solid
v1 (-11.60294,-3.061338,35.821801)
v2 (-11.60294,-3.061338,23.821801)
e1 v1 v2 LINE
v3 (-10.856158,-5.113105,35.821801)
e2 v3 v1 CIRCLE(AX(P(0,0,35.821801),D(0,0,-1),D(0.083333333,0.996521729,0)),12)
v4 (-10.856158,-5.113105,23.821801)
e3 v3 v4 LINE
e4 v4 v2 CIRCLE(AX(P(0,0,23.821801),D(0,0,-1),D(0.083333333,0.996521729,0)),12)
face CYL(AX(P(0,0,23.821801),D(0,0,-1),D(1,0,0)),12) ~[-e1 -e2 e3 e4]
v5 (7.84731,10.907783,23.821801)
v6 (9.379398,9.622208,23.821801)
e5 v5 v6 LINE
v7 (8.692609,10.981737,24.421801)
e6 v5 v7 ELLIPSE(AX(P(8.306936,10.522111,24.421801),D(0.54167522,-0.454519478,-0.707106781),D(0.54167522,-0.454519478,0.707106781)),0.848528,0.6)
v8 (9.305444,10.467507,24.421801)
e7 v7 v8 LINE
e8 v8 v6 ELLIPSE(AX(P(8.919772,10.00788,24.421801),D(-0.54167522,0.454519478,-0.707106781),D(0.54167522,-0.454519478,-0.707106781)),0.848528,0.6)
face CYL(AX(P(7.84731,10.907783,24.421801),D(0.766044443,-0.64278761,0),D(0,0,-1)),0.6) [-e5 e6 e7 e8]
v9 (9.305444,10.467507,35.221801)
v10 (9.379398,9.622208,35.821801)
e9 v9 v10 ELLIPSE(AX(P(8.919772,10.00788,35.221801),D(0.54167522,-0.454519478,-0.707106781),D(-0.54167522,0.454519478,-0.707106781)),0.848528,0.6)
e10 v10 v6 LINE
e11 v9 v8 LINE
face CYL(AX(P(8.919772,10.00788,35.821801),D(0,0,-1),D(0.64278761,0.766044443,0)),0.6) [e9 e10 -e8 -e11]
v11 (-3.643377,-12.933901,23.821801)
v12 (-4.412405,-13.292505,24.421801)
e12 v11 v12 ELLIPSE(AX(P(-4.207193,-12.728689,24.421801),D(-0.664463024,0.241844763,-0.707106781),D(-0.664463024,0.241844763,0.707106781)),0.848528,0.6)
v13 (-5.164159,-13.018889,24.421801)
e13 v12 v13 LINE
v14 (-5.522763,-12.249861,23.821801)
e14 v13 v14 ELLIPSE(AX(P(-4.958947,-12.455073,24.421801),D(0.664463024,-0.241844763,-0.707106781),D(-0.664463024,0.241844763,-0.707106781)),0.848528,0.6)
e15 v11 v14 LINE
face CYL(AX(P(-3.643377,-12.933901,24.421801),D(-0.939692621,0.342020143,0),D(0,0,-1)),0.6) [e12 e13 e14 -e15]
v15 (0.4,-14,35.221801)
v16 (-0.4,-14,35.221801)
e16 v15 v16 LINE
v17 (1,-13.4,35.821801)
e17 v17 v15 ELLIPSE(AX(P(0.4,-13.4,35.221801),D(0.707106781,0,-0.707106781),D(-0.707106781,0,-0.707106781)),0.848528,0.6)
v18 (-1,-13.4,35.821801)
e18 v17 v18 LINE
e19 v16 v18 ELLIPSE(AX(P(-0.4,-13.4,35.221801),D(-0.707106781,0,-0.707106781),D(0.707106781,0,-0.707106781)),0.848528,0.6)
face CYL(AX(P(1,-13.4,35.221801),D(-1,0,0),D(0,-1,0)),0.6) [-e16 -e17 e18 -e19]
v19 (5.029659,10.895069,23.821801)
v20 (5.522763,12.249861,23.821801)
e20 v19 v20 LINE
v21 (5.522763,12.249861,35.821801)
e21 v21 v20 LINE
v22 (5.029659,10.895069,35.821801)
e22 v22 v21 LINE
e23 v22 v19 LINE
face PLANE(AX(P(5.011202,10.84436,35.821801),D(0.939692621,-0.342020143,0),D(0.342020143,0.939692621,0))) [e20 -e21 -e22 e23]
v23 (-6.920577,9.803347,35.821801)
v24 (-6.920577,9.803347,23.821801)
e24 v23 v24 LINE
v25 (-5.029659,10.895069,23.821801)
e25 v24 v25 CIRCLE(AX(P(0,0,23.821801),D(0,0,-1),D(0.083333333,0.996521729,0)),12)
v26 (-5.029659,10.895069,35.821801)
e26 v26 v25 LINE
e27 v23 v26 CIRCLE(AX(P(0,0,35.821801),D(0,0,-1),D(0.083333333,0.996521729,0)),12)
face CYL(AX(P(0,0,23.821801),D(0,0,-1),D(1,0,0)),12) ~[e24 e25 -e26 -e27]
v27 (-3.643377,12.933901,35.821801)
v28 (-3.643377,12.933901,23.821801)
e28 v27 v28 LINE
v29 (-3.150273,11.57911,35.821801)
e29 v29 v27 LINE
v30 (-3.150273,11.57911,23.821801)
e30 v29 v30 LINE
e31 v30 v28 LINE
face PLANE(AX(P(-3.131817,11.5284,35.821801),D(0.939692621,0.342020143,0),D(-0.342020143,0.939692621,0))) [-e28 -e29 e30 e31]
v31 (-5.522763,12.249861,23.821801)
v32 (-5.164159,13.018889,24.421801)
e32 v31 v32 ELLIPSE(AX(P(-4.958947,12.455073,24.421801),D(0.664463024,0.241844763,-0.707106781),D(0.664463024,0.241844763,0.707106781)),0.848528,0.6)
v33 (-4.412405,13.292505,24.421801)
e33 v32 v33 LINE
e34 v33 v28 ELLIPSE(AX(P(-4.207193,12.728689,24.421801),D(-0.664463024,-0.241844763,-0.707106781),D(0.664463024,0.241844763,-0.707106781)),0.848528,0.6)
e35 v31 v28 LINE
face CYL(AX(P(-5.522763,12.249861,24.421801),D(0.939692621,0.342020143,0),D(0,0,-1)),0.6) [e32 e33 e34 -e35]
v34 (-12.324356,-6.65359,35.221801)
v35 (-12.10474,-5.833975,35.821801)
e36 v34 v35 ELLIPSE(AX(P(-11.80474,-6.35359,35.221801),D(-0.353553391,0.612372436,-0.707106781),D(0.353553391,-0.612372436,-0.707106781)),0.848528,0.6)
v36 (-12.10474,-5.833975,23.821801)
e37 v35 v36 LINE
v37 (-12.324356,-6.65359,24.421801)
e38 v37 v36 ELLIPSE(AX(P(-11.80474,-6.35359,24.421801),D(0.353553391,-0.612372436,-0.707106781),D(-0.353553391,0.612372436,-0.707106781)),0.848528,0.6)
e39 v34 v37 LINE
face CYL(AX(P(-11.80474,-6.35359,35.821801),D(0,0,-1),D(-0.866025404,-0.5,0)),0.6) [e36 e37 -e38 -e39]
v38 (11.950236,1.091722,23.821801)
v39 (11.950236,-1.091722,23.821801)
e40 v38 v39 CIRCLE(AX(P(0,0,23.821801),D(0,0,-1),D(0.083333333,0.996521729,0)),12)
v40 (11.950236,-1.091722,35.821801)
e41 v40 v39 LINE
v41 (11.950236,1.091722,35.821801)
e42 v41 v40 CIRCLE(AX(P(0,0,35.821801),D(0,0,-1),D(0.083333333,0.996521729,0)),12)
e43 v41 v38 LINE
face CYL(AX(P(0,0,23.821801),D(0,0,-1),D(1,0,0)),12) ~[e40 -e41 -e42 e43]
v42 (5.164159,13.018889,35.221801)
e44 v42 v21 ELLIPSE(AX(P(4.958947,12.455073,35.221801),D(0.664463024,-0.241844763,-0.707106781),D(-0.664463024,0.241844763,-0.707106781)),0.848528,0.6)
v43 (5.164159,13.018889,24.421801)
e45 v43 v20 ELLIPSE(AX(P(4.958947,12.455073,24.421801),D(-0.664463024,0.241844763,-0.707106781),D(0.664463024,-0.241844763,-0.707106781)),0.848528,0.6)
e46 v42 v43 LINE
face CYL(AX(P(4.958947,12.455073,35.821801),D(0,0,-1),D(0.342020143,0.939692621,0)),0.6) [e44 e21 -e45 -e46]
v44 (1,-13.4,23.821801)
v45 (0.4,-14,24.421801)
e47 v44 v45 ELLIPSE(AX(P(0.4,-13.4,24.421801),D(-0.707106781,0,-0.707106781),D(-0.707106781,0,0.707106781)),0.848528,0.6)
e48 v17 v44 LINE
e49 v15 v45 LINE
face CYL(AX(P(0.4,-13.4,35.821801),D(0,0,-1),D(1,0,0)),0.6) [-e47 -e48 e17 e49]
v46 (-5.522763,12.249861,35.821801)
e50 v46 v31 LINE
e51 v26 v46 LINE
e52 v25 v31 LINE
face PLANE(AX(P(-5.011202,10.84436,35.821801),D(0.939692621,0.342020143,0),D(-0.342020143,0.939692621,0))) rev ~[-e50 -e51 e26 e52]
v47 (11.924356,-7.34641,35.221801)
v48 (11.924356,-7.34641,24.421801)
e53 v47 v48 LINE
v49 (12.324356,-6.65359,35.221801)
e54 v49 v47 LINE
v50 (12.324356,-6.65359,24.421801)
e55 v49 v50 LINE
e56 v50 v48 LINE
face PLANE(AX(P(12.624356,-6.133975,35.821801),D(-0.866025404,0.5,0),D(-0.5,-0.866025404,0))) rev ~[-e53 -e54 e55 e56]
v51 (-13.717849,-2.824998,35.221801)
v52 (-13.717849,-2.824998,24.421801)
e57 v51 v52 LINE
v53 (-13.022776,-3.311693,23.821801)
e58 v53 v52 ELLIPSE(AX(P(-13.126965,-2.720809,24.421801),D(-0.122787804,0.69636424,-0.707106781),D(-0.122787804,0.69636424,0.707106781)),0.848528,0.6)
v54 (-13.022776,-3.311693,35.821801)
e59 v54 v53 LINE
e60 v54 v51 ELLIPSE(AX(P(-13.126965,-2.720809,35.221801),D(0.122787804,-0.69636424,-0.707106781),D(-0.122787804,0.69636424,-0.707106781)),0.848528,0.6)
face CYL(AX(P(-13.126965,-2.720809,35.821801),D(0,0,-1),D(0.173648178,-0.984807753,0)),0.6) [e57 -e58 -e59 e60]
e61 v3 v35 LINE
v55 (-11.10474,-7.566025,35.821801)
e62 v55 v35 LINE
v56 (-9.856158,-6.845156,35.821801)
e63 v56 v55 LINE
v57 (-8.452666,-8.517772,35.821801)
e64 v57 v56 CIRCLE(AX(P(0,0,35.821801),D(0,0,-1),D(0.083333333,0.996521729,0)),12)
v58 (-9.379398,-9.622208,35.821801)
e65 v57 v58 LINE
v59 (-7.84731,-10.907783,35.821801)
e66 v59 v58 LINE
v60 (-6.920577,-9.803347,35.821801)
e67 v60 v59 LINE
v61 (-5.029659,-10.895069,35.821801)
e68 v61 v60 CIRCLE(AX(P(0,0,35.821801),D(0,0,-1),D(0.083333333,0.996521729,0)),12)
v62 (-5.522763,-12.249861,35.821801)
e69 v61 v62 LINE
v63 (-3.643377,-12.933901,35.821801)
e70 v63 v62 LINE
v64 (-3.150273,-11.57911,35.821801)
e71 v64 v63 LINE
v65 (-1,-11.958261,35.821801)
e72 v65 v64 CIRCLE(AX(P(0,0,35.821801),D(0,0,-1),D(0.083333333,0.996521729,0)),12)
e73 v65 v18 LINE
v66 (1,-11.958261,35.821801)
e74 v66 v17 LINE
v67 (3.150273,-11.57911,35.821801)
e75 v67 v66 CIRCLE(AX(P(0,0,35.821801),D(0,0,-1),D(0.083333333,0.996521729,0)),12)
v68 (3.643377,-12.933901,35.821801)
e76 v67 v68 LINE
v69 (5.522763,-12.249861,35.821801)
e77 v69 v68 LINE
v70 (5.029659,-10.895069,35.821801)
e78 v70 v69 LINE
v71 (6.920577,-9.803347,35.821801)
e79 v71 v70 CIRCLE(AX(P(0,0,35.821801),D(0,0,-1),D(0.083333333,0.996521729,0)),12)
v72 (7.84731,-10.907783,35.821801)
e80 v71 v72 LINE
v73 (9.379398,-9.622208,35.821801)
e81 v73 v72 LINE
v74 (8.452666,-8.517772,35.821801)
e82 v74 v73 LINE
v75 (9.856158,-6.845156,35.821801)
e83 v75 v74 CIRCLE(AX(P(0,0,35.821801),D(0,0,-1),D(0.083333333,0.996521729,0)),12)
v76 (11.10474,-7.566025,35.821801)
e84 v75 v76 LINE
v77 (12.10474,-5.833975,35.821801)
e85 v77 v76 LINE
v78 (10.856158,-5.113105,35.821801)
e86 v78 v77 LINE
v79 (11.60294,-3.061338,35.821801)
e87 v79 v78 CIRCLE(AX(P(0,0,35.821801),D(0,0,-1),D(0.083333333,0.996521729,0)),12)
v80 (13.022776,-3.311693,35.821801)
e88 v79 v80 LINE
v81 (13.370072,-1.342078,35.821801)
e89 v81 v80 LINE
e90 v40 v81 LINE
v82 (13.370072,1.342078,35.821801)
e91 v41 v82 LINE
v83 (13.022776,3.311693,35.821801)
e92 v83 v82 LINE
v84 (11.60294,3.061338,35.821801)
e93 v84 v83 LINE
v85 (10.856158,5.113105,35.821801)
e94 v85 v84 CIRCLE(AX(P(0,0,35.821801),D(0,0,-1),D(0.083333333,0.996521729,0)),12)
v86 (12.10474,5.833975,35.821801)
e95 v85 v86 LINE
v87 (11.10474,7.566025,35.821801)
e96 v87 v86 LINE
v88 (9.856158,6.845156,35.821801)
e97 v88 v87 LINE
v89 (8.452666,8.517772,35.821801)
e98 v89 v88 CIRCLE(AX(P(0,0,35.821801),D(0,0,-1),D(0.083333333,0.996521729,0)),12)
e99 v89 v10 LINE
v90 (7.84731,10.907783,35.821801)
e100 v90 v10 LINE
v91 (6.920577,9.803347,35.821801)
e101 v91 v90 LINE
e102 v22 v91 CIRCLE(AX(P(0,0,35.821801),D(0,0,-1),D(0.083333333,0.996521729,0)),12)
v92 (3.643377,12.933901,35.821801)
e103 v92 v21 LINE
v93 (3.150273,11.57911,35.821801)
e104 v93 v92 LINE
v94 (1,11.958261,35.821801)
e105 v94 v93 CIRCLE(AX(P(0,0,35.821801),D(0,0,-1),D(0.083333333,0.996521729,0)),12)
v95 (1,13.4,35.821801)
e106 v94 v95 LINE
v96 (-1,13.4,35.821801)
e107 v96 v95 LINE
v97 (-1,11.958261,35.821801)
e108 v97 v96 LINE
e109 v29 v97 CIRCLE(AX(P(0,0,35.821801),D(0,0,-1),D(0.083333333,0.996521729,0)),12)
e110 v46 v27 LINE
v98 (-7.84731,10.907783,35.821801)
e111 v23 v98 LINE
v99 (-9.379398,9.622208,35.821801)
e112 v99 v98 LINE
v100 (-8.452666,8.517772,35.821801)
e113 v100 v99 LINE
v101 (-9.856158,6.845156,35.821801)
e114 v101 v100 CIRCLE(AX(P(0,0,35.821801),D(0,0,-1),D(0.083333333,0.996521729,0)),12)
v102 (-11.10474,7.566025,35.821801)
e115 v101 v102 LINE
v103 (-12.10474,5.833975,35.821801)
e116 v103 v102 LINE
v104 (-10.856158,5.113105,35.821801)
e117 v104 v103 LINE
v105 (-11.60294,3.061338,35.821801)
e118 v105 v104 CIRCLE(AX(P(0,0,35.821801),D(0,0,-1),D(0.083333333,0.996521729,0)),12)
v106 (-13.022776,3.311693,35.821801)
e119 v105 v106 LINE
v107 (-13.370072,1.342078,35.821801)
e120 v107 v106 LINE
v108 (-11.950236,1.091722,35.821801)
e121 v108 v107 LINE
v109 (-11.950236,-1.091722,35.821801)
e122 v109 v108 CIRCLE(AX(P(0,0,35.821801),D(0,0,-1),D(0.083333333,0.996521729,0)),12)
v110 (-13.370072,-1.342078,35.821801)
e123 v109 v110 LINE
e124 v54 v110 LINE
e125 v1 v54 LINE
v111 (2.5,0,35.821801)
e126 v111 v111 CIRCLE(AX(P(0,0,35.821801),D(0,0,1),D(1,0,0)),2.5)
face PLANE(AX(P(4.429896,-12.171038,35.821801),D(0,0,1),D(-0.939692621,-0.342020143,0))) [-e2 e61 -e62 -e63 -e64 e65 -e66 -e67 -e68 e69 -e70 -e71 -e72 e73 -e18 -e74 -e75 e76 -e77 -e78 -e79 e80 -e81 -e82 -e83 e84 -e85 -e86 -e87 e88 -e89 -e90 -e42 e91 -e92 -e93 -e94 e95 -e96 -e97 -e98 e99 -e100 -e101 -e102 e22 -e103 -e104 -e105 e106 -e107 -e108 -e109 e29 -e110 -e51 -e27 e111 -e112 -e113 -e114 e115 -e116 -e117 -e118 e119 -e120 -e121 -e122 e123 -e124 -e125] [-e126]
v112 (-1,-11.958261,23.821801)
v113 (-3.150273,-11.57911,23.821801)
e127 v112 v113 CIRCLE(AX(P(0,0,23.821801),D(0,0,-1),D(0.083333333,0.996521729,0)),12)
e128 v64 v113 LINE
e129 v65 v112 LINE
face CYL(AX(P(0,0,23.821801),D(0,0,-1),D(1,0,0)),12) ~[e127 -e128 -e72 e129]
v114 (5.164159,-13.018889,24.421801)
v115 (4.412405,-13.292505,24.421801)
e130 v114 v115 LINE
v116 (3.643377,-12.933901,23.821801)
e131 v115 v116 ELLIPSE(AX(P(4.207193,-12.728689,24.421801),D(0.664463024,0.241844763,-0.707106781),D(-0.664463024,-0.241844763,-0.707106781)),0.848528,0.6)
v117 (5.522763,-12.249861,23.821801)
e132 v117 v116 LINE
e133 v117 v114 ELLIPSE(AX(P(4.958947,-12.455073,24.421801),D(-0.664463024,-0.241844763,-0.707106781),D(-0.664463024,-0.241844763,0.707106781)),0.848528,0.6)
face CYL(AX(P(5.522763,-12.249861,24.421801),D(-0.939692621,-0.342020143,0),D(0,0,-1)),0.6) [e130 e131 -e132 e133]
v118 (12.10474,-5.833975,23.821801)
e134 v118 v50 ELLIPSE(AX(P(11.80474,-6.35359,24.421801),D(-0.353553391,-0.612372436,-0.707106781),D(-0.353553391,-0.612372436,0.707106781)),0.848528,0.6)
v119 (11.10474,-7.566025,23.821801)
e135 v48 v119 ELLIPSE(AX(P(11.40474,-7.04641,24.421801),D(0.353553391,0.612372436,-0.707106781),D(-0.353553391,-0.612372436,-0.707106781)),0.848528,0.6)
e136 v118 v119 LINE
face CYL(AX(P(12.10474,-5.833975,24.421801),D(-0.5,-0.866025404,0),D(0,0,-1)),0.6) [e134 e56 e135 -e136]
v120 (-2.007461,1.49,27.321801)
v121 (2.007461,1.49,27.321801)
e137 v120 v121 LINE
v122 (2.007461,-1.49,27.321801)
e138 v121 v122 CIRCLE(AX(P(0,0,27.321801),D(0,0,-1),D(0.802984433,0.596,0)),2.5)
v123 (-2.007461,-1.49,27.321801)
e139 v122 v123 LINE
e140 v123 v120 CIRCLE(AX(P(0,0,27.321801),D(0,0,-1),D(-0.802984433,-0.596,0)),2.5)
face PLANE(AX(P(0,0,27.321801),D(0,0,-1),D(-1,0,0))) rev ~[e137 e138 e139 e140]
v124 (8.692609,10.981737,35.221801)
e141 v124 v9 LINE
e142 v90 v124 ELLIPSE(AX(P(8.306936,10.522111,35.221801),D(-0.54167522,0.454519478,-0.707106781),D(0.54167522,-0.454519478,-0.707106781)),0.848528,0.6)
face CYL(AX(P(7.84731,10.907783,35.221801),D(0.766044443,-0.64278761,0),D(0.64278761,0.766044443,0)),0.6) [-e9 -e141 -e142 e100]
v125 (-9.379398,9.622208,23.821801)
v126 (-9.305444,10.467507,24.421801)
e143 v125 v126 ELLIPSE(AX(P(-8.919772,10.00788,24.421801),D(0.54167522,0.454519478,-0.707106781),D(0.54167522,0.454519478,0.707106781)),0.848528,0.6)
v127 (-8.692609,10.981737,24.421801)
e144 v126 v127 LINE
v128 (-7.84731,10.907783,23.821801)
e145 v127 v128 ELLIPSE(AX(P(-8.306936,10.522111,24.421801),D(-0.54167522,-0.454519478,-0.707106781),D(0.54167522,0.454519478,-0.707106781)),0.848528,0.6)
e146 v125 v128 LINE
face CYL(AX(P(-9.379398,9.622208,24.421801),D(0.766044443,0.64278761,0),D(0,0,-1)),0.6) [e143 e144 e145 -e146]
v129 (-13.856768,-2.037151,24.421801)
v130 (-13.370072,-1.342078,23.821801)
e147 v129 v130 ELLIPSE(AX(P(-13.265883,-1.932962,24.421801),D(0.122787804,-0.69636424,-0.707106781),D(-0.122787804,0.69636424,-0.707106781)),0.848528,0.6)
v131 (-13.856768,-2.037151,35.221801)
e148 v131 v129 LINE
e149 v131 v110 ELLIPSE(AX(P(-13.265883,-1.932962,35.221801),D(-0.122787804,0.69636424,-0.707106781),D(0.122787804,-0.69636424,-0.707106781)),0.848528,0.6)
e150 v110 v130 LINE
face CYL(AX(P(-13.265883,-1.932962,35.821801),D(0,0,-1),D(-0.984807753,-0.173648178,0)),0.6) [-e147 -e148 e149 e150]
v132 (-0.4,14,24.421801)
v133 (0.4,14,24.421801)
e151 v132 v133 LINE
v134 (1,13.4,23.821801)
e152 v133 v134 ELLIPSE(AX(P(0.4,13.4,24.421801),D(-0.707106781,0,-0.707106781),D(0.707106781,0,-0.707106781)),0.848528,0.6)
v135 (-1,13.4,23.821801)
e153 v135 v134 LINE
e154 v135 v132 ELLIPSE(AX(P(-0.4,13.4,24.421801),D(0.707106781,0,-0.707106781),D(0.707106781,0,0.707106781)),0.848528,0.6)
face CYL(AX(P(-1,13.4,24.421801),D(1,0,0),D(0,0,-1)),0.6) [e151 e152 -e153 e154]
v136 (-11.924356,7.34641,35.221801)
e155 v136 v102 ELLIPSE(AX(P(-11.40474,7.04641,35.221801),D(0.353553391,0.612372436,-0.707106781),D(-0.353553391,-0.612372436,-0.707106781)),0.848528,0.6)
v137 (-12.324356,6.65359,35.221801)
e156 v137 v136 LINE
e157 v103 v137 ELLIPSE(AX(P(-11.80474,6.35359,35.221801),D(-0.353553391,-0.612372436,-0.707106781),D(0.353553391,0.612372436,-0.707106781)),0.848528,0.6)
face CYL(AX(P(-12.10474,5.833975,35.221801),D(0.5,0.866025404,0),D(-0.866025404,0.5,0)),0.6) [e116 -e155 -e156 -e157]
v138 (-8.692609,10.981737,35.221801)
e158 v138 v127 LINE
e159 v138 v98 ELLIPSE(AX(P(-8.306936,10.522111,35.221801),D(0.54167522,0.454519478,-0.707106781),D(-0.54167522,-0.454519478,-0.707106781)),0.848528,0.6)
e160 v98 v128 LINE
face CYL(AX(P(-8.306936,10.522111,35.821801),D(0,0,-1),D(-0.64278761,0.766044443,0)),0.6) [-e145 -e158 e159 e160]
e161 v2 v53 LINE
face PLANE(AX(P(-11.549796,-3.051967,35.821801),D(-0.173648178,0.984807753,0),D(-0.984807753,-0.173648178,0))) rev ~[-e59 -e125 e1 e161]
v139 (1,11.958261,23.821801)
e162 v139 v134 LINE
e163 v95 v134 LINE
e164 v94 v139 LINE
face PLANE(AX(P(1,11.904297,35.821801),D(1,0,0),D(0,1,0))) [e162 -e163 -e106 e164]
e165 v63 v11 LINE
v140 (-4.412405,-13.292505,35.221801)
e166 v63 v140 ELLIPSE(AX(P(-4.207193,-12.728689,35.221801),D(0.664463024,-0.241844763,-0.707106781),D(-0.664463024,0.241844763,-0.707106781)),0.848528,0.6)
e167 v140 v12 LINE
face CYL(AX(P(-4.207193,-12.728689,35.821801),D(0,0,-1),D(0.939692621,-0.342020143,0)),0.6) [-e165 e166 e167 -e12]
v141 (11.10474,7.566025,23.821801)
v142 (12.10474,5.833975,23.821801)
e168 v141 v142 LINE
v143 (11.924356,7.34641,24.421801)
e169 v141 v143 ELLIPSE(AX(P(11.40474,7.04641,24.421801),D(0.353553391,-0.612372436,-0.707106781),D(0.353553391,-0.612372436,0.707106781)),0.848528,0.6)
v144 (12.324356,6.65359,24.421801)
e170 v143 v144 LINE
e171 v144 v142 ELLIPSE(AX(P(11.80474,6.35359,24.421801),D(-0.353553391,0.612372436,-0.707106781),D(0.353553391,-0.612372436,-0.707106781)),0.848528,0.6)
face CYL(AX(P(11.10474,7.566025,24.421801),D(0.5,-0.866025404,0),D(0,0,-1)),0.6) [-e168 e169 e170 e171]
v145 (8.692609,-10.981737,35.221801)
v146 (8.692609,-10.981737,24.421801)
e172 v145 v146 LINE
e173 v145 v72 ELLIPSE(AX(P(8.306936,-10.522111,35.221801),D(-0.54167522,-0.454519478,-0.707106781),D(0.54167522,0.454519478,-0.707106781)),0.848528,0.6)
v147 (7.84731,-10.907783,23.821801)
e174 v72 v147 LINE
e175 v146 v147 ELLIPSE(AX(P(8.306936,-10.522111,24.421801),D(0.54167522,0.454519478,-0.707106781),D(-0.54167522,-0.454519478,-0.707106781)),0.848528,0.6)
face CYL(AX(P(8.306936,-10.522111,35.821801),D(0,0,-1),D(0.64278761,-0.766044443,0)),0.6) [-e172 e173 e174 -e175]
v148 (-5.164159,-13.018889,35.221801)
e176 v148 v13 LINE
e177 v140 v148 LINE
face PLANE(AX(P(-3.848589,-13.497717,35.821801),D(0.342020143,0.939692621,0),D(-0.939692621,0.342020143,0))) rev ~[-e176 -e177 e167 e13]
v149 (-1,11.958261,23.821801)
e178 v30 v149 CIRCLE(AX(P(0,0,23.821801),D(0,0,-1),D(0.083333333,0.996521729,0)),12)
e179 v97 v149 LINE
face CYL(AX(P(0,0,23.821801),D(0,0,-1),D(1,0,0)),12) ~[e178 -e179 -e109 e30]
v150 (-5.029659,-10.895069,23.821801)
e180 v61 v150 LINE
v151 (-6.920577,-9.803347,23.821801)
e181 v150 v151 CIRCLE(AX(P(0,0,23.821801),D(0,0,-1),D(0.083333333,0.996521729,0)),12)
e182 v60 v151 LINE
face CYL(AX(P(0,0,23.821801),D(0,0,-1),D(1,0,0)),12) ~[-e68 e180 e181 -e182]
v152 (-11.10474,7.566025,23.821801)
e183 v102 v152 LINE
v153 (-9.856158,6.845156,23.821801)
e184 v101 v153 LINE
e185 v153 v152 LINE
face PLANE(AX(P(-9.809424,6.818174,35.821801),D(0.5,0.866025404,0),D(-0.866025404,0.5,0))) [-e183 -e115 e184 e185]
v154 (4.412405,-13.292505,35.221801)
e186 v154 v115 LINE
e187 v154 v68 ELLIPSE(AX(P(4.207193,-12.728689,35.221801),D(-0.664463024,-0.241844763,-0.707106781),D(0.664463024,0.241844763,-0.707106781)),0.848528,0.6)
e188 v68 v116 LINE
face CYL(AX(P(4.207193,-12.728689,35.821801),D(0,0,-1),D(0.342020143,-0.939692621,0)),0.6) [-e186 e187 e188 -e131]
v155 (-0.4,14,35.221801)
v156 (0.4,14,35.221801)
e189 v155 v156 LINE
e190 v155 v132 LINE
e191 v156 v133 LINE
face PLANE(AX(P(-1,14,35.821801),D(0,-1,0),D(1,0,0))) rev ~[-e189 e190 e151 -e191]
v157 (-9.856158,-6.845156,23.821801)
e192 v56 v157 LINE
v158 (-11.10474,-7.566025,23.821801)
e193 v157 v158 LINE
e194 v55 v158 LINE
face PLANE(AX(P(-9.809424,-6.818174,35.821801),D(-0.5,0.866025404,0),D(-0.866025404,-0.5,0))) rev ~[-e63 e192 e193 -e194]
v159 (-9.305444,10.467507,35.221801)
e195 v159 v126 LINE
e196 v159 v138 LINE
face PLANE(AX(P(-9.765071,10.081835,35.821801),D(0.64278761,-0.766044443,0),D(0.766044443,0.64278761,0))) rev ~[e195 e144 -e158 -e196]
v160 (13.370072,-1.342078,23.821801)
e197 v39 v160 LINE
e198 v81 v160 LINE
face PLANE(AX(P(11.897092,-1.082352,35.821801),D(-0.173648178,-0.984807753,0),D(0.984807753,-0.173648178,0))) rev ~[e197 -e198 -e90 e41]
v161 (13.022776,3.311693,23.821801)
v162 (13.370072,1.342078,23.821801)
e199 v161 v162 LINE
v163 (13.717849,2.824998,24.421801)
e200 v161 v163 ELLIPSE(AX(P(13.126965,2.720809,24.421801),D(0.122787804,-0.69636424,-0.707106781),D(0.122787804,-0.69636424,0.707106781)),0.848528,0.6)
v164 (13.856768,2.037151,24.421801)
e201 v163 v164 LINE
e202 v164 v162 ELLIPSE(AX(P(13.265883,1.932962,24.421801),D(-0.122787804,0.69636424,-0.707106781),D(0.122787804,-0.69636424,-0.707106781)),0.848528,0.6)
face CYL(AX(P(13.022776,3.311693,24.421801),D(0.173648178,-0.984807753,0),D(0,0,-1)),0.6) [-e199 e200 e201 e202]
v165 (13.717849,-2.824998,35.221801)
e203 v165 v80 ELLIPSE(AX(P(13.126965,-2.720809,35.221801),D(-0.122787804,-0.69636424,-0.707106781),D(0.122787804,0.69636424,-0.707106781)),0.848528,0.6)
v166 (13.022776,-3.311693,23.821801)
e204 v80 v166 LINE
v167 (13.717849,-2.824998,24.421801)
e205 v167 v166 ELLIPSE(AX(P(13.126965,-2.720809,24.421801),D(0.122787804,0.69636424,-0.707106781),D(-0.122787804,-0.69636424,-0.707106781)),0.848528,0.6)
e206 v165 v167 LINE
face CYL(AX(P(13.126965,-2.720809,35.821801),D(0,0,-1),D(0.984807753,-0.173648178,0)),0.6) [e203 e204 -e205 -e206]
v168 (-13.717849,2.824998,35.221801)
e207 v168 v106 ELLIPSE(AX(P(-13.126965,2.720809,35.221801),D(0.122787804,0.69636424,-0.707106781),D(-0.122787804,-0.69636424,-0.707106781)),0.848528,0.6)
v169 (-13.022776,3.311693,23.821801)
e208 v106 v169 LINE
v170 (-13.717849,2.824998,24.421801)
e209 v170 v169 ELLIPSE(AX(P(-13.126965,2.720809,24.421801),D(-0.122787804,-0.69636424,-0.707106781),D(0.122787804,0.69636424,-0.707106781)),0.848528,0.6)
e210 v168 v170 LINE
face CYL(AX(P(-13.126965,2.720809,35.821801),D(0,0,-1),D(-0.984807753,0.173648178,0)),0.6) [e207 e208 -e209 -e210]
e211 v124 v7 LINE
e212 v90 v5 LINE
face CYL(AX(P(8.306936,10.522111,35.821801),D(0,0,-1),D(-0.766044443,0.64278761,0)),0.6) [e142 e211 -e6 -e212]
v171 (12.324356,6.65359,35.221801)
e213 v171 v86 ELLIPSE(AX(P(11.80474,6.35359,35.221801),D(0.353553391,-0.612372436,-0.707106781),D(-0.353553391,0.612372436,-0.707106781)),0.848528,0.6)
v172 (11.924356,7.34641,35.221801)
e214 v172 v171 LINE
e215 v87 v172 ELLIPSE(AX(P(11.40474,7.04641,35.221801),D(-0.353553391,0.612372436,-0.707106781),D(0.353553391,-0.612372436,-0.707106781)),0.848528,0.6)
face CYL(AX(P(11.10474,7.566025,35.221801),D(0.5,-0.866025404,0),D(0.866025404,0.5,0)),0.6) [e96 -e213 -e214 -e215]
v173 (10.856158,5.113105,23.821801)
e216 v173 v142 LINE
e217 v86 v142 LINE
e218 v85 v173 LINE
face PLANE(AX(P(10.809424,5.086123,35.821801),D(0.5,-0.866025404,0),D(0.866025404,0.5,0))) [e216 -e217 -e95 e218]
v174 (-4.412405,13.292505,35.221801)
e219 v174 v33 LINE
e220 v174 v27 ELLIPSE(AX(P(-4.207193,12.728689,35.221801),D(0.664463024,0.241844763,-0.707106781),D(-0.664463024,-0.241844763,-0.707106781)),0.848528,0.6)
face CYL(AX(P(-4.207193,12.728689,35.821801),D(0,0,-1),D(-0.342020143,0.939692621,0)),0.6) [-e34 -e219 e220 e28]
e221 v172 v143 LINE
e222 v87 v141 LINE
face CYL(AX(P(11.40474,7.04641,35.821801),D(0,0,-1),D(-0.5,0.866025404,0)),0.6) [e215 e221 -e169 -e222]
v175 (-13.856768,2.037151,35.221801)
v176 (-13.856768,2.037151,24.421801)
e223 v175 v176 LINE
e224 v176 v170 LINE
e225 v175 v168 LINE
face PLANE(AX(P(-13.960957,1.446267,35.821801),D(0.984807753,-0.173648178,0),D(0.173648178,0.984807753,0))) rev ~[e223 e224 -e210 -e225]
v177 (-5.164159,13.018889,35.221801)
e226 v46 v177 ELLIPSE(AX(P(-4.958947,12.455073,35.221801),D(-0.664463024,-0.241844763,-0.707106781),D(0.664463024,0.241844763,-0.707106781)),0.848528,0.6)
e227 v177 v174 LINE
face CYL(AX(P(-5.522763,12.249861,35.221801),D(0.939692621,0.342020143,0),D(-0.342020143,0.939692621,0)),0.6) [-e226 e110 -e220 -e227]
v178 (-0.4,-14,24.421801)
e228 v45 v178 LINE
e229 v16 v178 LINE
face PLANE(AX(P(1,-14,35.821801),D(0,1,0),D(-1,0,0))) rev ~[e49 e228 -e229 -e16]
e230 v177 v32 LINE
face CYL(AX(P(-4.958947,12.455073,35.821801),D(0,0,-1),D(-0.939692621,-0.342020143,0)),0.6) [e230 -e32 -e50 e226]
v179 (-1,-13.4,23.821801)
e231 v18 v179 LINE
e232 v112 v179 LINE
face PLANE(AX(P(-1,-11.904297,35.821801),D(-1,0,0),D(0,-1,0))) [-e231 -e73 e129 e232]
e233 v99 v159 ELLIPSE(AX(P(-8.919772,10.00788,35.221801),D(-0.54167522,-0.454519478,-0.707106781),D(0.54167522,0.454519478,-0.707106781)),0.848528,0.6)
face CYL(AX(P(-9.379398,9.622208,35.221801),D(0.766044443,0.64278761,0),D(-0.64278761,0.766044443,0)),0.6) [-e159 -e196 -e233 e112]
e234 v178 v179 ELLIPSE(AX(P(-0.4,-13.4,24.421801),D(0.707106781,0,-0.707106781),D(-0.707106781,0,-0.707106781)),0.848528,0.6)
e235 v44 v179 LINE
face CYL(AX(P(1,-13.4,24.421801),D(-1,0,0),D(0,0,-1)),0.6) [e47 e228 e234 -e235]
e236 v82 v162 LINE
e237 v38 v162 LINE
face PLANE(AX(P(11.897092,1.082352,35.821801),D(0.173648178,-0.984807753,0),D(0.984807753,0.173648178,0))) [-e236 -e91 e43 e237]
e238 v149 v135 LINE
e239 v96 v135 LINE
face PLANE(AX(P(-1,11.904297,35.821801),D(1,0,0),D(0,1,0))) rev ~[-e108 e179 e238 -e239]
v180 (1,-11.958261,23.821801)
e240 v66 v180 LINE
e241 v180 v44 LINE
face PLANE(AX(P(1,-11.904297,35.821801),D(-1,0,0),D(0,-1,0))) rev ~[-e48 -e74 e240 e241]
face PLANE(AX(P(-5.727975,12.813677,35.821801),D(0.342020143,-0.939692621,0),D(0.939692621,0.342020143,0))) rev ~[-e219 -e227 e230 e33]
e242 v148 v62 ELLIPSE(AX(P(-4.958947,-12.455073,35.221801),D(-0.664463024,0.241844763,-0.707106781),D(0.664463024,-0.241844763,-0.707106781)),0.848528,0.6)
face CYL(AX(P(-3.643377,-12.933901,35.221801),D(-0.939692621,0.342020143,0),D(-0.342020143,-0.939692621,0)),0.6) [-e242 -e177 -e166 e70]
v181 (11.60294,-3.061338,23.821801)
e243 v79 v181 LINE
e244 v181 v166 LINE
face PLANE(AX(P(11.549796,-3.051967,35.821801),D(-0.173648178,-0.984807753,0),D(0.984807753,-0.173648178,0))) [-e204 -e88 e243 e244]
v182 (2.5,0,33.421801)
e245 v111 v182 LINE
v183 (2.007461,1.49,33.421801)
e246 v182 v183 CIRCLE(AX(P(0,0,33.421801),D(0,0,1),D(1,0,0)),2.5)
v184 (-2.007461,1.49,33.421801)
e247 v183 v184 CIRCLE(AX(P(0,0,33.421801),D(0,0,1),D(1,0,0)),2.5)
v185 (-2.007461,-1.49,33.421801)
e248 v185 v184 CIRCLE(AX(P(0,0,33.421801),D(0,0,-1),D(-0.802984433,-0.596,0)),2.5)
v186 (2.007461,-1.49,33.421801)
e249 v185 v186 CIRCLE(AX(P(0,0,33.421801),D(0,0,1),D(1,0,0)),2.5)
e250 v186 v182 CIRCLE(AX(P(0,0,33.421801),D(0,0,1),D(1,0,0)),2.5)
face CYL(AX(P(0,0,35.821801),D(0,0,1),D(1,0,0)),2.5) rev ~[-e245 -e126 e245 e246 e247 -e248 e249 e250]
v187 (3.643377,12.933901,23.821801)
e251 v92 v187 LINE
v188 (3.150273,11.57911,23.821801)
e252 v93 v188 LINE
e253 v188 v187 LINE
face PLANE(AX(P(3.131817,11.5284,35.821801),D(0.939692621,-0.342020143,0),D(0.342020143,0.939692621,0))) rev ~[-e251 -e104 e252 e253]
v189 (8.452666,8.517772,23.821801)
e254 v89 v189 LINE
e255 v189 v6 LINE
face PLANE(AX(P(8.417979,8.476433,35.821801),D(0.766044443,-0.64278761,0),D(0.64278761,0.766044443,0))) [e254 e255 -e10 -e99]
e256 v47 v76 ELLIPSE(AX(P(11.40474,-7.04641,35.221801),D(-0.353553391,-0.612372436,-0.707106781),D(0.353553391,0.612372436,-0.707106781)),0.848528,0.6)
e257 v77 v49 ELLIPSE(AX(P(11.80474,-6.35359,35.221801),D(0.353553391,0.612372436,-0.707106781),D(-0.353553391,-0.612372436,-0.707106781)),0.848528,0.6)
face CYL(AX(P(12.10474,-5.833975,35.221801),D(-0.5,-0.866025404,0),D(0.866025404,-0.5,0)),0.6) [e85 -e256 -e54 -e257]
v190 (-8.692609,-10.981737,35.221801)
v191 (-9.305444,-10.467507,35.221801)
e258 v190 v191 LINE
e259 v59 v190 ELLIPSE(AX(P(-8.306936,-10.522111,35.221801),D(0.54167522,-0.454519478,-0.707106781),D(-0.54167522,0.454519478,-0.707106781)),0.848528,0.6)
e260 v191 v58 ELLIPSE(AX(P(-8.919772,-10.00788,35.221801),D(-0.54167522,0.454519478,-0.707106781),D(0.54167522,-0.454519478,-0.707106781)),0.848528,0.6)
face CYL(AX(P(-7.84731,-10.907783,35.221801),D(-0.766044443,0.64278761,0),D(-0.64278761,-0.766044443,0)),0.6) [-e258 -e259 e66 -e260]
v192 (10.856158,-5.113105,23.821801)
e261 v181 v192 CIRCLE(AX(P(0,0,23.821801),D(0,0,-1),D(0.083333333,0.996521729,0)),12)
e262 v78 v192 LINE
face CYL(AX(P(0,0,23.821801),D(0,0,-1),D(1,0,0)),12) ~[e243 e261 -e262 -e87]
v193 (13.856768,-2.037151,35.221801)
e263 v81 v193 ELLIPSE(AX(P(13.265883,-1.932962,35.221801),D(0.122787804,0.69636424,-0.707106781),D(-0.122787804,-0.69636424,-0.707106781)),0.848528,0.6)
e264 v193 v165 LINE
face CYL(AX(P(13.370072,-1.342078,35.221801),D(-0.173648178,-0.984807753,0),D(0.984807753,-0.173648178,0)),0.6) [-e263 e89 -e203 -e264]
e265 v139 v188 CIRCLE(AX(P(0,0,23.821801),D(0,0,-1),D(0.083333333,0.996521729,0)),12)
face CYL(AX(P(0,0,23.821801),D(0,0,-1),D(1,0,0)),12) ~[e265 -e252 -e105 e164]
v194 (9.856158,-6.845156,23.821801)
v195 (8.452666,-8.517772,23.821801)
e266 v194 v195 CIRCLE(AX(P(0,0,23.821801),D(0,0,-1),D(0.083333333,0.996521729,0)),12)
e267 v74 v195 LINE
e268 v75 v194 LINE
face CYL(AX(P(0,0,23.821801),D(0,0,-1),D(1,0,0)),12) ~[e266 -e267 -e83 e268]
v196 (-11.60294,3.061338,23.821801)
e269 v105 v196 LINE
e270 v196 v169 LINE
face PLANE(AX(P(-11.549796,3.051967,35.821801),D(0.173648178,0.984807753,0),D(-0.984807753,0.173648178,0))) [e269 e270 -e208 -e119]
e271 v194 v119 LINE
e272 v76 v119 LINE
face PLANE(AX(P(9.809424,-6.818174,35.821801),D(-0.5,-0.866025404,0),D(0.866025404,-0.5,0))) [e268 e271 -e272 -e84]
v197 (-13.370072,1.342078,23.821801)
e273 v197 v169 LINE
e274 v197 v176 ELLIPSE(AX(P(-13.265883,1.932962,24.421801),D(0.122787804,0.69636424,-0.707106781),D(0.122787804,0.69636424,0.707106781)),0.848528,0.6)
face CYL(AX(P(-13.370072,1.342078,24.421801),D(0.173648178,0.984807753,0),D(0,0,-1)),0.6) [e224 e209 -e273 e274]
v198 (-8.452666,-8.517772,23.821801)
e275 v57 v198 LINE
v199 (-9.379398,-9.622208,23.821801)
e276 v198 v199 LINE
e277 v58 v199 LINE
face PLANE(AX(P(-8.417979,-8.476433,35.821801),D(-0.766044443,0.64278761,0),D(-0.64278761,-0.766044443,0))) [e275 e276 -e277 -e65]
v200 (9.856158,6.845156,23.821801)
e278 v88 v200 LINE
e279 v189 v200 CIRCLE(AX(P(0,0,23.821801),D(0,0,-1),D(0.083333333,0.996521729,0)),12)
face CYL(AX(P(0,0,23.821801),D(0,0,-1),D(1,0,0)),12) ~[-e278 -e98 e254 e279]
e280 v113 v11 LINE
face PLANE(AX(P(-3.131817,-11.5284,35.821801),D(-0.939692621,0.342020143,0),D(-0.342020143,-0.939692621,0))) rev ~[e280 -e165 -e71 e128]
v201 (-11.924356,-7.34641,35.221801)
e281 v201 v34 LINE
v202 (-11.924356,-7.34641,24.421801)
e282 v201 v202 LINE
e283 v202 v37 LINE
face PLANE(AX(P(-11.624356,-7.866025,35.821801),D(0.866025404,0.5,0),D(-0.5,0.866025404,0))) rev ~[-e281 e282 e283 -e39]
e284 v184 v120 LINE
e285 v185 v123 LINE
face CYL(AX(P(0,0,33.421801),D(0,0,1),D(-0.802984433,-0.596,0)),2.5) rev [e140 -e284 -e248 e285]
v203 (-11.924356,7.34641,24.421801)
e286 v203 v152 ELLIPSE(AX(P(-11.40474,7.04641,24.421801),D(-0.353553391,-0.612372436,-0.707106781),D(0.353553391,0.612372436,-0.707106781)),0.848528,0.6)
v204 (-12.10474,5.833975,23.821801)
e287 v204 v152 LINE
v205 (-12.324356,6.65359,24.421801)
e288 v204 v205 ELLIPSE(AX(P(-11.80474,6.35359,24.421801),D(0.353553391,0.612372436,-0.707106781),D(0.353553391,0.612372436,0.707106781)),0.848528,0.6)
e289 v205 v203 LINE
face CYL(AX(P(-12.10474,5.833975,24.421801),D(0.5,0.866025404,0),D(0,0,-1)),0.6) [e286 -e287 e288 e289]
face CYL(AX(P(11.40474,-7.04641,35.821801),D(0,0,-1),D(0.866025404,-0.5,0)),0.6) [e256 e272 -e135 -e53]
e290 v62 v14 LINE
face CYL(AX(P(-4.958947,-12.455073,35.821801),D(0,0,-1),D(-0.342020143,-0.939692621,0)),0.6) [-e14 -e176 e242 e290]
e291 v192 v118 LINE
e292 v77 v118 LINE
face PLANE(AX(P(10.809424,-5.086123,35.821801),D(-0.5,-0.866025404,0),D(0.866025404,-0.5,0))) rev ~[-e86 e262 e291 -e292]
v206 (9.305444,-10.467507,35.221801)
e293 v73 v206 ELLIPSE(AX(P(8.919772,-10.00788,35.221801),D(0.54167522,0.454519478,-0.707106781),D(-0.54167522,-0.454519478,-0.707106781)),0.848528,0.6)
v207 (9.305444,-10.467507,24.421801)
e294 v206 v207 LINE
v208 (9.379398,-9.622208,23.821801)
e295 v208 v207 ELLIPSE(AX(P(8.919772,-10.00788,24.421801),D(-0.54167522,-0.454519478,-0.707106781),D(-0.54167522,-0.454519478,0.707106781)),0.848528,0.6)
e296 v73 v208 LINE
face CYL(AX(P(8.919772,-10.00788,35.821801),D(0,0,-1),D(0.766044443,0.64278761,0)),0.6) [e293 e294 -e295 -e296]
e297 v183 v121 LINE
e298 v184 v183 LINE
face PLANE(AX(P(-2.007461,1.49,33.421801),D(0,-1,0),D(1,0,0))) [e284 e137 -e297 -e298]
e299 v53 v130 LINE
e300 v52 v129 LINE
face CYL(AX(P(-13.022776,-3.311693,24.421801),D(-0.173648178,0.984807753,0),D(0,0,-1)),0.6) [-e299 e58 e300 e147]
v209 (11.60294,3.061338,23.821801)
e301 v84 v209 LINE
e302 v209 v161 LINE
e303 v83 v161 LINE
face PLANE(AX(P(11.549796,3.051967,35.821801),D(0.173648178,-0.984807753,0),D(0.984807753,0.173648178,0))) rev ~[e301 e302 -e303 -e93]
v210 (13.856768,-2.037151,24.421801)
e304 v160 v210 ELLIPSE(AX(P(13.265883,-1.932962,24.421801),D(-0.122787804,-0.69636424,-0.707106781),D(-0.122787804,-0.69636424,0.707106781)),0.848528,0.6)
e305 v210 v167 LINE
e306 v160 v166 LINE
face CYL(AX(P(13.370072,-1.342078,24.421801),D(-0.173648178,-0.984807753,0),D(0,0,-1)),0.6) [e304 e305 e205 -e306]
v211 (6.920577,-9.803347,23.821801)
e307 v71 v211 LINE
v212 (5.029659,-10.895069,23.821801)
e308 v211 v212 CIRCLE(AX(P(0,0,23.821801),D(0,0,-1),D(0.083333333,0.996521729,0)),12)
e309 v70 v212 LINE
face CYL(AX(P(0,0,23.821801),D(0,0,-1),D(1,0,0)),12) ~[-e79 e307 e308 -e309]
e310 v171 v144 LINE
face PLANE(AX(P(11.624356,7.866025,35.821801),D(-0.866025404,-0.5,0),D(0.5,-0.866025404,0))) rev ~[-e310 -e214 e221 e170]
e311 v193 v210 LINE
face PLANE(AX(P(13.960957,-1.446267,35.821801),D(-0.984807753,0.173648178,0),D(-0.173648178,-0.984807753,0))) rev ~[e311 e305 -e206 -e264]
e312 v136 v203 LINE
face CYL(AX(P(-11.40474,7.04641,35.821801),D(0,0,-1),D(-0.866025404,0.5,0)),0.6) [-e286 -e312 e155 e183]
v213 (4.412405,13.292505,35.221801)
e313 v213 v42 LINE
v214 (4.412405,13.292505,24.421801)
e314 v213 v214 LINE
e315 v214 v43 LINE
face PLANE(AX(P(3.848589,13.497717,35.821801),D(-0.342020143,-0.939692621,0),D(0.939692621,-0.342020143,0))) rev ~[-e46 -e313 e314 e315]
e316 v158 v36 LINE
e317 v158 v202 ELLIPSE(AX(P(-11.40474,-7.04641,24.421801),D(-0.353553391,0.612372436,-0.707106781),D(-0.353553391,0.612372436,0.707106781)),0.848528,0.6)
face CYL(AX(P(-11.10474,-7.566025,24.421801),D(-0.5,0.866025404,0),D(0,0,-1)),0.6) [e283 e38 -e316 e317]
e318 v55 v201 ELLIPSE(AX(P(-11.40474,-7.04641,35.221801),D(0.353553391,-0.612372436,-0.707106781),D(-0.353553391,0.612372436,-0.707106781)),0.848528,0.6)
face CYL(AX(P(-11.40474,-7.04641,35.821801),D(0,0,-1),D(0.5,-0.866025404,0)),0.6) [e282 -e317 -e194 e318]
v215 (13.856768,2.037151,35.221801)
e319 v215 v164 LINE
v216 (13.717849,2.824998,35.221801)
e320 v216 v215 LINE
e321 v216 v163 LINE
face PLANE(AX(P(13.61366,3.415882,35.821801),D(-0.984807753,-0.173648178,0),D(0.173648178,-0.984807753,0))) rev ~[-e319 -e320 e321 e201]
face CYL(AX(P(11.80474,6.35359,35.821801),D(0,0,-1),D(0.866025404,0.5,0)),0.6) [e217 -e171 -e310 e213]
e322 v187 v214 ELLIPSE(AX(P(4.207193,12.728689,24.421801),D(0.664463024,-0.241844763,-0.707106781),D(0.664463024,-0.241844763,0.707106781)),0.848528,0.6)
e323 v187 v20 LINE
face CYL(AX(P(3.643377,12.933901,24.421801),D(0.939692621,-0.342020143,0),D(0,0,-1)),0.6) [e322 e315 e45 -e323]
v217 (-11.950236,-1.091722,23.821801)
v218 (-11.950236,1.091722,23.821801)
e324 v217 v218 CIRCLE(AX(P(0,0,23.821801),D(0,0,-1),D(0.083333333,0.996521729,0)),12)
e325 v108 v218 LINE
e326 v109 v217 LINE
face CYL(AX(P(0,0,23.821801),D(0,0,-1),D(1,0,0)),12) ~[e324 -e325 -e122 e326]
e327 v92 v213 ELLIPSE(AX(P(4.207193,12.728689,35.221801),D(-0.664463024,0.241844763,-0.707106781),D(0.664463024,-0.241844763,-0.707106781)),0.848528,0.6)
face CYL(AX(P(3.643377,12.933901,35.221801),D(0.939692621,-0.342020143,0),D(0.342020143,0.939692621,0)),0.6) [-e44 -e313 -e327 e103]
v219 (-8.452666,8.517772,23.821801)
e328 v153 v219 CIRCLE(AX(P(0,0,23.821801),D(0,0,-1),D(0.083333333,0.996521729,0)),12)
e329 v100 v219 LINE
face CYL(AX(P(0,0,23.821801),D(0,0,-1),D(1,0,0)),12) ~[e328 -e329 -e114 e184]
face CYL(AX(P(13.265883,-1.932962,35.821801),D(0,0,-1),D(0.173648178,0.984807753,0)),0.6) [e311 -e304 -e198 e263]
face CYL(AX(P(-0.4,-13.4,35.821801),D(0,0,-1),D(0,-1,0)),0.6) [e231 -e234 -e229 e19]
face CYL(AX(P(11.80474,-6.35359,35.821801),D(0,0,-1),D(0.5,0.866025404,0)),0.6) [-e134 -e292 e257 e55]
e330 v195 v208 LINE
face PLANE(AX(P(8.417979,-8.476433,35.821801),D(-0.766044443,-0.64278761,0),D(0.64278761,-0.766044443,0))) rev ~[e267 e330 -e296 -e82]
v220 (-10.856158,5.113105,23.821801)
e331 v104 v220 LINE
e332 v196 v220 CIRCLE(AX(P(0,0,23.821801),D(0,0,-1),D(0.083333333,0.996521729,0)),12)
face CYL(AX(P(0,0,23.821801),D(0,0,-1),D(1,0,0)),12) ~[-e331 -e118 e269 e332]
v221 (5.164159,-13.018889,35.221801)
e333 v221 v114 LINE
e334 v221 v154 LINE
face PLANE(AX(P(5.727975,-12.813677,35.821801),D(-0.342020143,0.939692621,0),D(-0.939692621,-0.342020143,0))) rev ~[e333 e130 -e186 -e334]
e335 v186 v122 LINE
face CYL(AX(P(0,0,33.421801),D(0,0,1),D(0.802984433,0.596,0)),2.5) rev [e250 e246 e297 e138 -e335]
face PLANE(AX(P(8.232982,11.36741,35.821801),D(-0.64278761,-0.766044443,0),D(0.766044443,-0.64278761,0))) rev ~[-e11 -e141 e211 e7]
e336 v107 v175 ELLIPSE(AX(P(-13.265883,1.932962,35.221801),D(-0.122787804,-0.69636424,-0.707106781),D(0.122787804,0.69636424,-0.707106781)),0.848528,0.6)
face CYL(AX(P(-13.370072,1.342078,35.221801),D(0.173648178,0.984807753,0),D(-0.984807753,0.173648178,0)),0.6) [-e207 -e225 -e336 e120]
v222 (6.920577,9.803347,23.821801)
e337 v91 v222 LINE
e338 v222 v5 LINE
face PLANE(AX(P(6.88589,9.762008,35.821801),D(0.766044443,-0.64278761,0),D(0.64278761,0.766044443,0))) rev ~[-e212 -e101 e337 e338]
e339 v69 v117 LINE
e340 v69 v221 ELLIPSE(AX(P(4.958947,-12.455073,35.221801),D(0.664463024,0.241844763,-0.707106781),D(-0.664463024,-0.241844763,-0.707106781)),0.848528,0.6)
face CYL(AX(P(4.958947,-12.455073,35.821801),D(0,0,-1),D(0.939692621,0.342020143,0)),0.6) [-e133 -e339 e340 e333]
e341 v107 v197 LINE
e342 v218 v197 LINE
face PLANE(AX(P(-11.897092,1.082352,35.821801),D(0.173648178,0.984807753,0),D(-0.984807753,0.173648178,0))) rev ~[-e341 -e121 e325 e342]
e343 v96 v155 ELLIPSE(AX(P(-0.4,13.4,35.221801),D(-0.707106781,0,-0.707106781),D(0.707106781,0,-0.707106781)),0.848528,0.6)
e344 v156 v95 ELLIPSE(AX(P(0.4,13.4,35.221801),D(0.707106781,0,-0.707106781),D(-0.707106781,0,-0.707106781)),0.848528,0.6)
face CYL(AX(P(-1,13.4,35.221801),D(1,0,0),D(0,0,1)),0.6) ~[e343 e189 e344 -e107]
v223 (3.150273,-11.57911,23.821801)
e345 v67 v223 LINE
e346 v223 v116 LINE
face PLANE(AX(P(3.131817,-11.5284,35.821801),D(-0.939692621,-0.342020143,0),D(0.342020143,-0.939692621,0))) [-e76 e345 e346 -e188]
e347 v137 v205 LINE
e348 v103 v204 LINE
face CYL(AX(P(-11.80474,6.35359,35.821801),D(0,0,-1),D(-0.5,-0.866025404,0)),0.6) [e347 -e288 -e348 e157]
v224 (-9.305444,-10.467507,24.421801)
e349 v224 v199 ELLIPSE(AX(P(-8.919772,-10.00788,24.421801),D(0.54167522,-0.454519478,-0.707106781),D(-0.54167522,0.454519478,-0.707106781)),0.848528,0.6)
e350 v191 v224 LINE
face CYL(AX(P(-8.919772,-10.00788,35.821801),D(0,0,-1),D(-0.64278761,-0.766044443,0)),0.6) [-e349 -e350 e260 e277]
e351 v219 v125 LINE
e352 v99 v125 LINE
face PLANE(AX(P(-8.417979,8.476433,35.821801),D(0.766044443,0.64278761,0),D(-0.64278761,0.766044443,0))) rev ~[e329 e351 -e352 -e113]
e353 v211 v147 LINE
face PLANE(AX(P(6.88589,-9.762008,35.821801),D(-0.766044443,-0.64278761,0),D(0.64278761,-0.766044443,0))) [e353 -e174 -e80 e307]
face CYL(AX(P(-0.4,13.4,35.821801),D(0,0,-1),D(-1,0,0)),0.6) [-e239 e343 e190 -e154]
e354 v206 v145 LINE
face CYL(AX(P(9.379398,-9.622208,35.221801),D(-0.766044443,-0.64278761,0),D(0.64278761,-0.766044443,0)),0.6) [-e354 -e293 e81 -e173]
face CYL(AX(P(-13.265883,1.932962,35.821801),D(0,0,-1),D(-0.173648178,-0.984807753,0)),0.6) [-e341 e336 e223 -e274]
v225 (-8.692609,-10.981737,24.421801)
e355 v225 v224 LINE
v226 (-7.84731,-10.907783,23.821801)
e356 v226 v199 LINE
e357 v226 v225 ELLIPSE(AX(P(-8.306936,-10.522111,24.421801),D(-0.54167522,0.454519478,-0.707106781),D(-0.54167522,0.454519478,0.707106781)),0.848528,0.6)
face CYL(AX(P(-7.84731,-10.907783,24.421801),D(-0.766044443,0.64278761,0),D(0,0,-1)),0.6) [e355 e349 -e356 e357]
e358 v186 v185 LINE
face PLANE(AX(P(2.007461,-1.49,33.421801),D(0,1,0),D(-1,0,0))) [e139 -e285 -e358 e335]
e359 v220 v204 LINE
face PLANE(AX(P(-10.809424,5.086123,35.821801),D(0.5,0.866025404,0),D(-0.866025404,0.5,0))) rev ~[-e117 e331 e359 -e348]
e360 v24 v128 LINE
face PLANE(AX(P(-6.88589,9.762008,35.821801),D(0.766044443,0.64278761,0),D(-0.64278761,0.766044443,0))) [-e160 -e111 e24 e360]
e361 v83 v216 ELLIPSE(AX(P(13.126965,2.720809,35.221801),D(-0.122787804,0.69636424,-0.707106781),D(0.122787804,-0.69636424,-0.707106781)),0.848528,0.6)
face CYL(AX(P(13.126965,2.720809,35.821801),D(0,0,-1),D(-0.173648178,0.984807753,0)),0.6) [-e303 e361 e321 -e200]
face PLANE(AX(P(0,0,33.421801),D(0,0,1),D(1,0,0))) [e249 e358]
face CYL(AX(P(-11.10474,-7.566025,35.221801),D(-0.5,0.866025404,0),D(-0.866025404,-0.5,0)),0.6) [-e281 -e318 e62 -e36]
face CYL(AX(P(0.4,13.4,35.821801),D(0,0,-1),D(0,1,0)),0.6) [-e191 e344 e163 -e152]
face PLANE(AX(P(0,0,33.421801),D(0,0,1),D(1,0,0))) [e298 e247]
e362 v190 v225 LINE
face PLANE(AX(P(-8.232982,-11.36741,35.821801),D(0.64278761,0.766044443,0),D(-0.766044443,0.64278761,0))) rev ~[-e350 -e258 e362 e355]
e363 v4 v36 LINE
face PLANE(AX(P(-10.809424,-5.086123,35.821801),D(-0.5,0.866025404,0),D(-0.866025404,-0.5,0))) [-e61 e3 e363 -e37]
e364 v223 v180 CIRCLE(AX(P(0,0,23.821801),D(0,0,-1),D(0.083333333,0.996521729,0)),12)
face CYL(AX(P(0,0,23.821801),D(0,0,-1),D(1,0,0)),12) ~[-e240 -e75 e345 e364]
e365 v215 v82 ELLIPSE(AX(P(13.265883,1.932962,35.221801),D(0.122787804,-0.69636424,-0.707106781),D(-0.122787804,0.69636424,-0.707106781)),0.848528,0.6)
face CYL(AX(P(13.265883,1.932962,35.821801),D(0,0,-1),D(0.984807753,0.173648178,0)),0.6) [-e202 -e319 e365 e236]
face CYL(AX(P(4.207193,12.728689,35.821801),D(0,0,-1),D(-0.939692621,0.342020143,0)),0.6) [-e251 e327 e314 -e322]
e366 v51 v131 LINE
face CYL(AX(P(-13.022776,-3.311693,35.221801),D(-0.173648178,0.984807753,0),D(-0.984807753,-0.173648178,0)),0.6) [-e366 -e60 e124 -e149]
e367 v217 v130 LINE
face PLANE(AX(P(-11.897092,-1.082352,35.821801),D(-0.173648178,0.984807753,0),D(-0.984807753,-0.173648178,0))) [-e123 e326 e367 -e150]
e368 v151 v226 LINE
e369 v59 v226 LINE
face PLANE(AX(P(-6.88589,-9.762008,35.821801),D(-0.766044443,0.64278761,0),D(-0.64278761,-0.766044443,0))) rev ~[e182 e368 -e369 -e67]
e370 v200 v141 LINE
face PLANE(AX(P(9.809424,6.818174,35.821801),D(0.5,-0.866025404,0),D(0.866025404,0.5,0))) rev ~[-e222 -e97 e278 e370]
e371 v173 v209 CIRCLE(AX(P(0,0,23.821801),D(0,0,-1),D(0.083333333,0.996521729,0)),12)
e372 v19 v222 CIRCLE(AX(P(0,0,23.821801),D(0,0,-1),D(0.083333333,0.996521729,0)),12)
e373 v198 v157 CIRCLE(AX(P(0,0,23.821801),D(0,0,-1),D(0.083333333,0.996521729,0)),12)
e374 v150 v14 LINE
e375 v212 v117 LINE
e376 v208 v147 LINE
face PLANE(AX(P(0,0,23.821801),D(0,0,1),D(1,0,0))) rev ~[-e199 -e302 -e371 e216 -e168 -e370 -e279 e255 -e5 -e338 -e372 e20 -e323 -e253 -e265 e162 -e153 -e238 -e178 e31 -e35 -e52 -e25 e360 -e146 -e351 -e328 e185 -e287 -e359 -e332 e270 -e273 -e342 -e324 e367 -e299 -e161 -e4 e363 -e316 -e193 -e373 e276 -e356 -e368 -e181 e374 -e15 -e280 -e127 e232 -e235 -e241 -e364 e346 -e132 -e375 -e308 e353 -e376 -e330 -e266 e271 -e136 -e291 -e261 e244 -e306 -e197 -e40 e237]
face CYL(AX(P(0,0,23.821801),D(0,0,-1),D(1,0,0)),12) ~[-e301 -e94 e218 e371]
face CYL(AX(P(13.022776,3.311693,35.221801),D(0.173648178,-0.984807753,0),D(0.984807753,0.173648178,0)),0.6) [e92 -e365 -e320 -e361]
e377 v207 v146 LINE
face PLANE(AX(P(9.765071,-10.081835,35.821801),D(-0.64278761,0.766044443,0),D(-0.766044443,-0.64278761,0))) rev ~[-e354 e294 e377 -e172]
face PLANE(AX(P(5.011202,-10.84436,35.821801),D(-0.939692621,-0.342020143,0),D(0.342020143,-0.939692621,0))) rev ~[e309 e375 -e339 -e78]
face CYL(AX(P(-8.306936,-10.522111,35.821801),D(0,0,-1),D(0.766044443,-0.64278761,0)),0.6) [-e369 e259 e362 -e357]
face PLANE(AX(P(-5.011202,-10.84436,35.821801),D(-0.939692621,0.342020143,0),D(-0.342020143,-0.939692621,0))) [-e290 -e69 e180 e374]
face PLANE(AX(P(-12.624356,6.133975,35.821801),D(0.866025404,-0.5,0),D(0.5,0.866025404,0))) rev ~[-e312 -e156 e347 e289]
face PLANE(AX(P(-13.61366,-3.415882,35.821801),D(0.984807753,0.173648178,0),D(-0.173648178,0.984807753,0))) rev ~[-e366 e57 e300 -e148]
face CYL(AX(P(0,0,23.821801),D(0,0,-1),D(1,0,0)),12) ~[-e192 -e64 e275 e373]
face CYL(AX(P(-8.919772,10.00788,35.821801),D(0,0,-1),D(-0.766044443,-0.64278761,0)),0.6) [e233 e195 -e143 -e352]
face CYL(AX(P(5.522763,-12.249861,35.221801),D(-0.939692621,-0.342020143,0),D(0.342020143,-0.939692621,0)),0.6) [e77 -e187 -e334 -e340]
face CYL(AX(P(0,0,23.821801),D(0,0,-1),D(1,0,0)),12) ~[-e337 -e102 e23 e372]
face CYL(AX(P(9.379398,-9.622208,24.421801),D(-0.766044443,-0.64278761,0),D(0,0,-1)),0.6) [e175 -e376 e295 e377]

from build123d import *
from build123d.topology import SkipClean

# Parameters (mm, degrees)
SKETCH2_R                = 60
BOSS_EXTRUDE1_DEPTH      = 60
SKETCH3_W                = 10
SKETCH3_H                = 10.47851478
BOSS_EXTRUDE2_DEPTH      = 60
FILLET2_R                = 3
CIRPATTERN1_COUNT        = 18
FILLET2_OF_CIRPATTERN1_R = 3
SKETCH4_R                = 10
CUT_EXTRUDE1_DEPTH       = 60
SKETCH5_R                = 22.481820488
BOSS_EXTRUDE3_DEPTH      = 60
SKETCH6_R                = 12.5
CUT_EXTRUDE2_DEPTH       = 12
CUT_EXTRUDE3_DEPTH       = 30.5
SCALE1_SCALE             = 0.2


with BuildPart() as part:
    # Sketch2 → Boss-Extrude1 (new body)
    with BuildSketch(Plane.XY):
        Circle(SKETCH2_R)
    extrude(amount=BOSS_EXTRUDE1_DEPTH)

    # Sketch3 → Boss-Extrude2 (add)
    with BuildSketch(Plane.XY.offset(60)):
        with Locations((0, 64.76074261)):
            Rectangle(SKETCH3_W, SKETCH3_H)
    boss_extrude2 = extrude(amount=-BOSS_EXTRUDE2_DEPTH)

    # Fillet2
    fillet2_edges = [part.edges().sort_by_distance(p)[0] for p in [
        (5, 70, 30),
        (0, 70, 0),
        (-5, 70, 30),
        (0, 70, 60),
    ]]
    fillet(fillet2_edges, radius=FILLET2_R)

    # CirPattern1: Boss-Extrude2 ×18 about axis
    cirpattern1_axis = Axis((0, 0, 0), (0, 0, 1))
    for i in range(1, CIRPATTERN1_COUNT):
        add(boss_extrude2.rotate(cirpattern1_axis, i * 360 / CIRPATTERN1_COUNT))

    # Fillet2 of CirPattern1
    fillet2_of_cirpattern1_edges = [part.edges().sort_by_distance(p)[0] for p in [
        (-19.242946929, 67.488584172, 30),
        (-23.941410033, 65.778483455, 0),
        (-28.639873137, 64.068382738, 30),
        (-23.941410033, 65.778483455, 60),
        (-41.164910462, 56.837049067, 30),
        (-44.995132678, 53.623111018, 0),
        (-48.825354894, 50.40917297, 30),
        (-44.995132678, 53.623111018, 60),
        (-58.121778265, 39.330127019, 30),
        (-60.621778265, 35, 0),
        (-63.121778265, 30.669872981, 30),
        (-60.621778265, 35, 60),
        (-68.068301823, 17.079411202, 30),
        (-68.936542711, 12.155372437, 0),
        (-69.804783599, 7.231333672, 30),
        (-68.936542711, 12.155372437, 60),
        (-69.804783599, -7.231333672, 30),
        (-68.936542711, -12.155372437, 0),
        (-68.068301823, -17.079411202, 30),
        (-68.936542711, -12.155372437, 60),
        (-63.121778265, -30.669872981, 30),
        (-60.621778265, -35, 0),
        (-58.121778265, -39.330127019, 30),
        (-60.621778265, -35, 60),
        (-48.825354894, -50.40917297, 30),
        (-44.995132678, -53.623111018, 0),
        (-41.164910462, -56.837049067, 30),
        (-44.995132678, -53.623111018, 60),
        (-28.639873137, -64.068382738, 30),
        (-23.941410033, -65.778483455, 0),
        (-19.242946929, -67.488584172, 30),
        (-23.941410033, -65.778483455, 60),
        (-5, -70, 30),
        (0, -70, 0),
        (5, -70, 30),
        (0, -70, 60),
        (19.242946929, -67.488584172, 30),
        (23.941410033, -65.778483455, 0),
        (28.639873137, -64.068382738, 30),
        (23.941410033, -65.778483455, 60),
        (41.164910462, -56.837049067, 30),
        (44.995132678, -53.623111018, 0),
        (48.825354894, -50.40917297, 30),
        (44.995132678, -53.623111018, 60),
        (58.121778265, -39.330127019, 30),
        (60.621778265, -35, 0),
        (63.121778265, -30.669872981, 30),
        (60.621778265, -35, 60),
        (68.068301823, -17.079411202, 30),
        (68.936542711, -12.155372437, 0),
        (69.804783599, -7.231333672, 30),
        (68.936542711, -12.155372437, 60),
        (69.804783599, 7.231333672, 30),
        (68.936542711, 12.155372437, 0),
        (68.068301823, 17.079411202, 30),
        (68.936542711, 12.155372437, 60),
        (63.121778265, 30.669872981, 30),
        (60.621778265, 35, 0),
        (58.121778265, 39.330127019, 30),
        (60.621778265, 35, 60),
        (48.825354894, 50.40917297, 30),
        (44.995132678, 53.623111018, 0),
        (41.164910462, 56.837049067, 30),
        (44.995132678, 53.623111018, 60),
        (28.639873137, 64.068382738, 30),
        (23.941410033, 65.778483455, 0),
        (19.242946929, 67.488584172, 30),
        (23.941410033, 65.778483455, 60),
    ]]
    fillet(fillet2_of_cirpattern1_edges, radius=FILLET2_OF_CIRPATTERN1_R)

    # Sketch4 → Cut-Extrude1 (cut)
    with BuildSketch(Plane.XY.offset(60)):
        Circle(SKETCH4_R)
    extrude(amount=-CUT_EXTRUDE1_DEPTH, mode=Mode.SUBTRACT)

    # Sketch5 → Boss-Extrude3 (add)
    with BuildSketch(Plane.XY.offset(60)):
        Circle(SKETCH5_R)
    extrude(amount=-BOSS_EXTRUDE3_DEPTH)

    # Sketch6 → Cut-Extrude2 (cut)
    with BuildSketch(Plane.XY.offset(60)):
        Circle(SKETCH6_R)
    extrude(amount=-CUT_EXTRUDE2_DEPTH, mode=Mode.SUBTRACT)

    # Sketch7 → Cut-Extrude3 (cut)
    with SkipClean():  # the faces are left unmerged after this step: merging them gives an invalid solid
        with BuildSketch(Plane.XY.offset(48)):
            with BuildLine():
                Line((10.037305415, -7.45), (-10.037305415, -7.45))
                ThreePointArc((-10.037305415, -7.45), (-12.5, 0), (-10.037305415, 7.45))
                Line((-10.037305415, 7.45), (10.037305415, 7.45))
                ThreePointArc((10.037305415, 7.45), (12.5, 0), (10.037305415, -7.45))
            make_face()
        extrude(amount=-CUT_EXTRUDE3_DEPTH, mode=Mode.SUBTRACT)


with BuildPart() as part_1:
    # Scale1: scaled about (3e-09, 1e-09, 29.777250978)
    add(part.part.scale(SCALE1_SCALE).moved(Location((2e-09, 1e-09, 23.821800782))))


solid = part_1.part
